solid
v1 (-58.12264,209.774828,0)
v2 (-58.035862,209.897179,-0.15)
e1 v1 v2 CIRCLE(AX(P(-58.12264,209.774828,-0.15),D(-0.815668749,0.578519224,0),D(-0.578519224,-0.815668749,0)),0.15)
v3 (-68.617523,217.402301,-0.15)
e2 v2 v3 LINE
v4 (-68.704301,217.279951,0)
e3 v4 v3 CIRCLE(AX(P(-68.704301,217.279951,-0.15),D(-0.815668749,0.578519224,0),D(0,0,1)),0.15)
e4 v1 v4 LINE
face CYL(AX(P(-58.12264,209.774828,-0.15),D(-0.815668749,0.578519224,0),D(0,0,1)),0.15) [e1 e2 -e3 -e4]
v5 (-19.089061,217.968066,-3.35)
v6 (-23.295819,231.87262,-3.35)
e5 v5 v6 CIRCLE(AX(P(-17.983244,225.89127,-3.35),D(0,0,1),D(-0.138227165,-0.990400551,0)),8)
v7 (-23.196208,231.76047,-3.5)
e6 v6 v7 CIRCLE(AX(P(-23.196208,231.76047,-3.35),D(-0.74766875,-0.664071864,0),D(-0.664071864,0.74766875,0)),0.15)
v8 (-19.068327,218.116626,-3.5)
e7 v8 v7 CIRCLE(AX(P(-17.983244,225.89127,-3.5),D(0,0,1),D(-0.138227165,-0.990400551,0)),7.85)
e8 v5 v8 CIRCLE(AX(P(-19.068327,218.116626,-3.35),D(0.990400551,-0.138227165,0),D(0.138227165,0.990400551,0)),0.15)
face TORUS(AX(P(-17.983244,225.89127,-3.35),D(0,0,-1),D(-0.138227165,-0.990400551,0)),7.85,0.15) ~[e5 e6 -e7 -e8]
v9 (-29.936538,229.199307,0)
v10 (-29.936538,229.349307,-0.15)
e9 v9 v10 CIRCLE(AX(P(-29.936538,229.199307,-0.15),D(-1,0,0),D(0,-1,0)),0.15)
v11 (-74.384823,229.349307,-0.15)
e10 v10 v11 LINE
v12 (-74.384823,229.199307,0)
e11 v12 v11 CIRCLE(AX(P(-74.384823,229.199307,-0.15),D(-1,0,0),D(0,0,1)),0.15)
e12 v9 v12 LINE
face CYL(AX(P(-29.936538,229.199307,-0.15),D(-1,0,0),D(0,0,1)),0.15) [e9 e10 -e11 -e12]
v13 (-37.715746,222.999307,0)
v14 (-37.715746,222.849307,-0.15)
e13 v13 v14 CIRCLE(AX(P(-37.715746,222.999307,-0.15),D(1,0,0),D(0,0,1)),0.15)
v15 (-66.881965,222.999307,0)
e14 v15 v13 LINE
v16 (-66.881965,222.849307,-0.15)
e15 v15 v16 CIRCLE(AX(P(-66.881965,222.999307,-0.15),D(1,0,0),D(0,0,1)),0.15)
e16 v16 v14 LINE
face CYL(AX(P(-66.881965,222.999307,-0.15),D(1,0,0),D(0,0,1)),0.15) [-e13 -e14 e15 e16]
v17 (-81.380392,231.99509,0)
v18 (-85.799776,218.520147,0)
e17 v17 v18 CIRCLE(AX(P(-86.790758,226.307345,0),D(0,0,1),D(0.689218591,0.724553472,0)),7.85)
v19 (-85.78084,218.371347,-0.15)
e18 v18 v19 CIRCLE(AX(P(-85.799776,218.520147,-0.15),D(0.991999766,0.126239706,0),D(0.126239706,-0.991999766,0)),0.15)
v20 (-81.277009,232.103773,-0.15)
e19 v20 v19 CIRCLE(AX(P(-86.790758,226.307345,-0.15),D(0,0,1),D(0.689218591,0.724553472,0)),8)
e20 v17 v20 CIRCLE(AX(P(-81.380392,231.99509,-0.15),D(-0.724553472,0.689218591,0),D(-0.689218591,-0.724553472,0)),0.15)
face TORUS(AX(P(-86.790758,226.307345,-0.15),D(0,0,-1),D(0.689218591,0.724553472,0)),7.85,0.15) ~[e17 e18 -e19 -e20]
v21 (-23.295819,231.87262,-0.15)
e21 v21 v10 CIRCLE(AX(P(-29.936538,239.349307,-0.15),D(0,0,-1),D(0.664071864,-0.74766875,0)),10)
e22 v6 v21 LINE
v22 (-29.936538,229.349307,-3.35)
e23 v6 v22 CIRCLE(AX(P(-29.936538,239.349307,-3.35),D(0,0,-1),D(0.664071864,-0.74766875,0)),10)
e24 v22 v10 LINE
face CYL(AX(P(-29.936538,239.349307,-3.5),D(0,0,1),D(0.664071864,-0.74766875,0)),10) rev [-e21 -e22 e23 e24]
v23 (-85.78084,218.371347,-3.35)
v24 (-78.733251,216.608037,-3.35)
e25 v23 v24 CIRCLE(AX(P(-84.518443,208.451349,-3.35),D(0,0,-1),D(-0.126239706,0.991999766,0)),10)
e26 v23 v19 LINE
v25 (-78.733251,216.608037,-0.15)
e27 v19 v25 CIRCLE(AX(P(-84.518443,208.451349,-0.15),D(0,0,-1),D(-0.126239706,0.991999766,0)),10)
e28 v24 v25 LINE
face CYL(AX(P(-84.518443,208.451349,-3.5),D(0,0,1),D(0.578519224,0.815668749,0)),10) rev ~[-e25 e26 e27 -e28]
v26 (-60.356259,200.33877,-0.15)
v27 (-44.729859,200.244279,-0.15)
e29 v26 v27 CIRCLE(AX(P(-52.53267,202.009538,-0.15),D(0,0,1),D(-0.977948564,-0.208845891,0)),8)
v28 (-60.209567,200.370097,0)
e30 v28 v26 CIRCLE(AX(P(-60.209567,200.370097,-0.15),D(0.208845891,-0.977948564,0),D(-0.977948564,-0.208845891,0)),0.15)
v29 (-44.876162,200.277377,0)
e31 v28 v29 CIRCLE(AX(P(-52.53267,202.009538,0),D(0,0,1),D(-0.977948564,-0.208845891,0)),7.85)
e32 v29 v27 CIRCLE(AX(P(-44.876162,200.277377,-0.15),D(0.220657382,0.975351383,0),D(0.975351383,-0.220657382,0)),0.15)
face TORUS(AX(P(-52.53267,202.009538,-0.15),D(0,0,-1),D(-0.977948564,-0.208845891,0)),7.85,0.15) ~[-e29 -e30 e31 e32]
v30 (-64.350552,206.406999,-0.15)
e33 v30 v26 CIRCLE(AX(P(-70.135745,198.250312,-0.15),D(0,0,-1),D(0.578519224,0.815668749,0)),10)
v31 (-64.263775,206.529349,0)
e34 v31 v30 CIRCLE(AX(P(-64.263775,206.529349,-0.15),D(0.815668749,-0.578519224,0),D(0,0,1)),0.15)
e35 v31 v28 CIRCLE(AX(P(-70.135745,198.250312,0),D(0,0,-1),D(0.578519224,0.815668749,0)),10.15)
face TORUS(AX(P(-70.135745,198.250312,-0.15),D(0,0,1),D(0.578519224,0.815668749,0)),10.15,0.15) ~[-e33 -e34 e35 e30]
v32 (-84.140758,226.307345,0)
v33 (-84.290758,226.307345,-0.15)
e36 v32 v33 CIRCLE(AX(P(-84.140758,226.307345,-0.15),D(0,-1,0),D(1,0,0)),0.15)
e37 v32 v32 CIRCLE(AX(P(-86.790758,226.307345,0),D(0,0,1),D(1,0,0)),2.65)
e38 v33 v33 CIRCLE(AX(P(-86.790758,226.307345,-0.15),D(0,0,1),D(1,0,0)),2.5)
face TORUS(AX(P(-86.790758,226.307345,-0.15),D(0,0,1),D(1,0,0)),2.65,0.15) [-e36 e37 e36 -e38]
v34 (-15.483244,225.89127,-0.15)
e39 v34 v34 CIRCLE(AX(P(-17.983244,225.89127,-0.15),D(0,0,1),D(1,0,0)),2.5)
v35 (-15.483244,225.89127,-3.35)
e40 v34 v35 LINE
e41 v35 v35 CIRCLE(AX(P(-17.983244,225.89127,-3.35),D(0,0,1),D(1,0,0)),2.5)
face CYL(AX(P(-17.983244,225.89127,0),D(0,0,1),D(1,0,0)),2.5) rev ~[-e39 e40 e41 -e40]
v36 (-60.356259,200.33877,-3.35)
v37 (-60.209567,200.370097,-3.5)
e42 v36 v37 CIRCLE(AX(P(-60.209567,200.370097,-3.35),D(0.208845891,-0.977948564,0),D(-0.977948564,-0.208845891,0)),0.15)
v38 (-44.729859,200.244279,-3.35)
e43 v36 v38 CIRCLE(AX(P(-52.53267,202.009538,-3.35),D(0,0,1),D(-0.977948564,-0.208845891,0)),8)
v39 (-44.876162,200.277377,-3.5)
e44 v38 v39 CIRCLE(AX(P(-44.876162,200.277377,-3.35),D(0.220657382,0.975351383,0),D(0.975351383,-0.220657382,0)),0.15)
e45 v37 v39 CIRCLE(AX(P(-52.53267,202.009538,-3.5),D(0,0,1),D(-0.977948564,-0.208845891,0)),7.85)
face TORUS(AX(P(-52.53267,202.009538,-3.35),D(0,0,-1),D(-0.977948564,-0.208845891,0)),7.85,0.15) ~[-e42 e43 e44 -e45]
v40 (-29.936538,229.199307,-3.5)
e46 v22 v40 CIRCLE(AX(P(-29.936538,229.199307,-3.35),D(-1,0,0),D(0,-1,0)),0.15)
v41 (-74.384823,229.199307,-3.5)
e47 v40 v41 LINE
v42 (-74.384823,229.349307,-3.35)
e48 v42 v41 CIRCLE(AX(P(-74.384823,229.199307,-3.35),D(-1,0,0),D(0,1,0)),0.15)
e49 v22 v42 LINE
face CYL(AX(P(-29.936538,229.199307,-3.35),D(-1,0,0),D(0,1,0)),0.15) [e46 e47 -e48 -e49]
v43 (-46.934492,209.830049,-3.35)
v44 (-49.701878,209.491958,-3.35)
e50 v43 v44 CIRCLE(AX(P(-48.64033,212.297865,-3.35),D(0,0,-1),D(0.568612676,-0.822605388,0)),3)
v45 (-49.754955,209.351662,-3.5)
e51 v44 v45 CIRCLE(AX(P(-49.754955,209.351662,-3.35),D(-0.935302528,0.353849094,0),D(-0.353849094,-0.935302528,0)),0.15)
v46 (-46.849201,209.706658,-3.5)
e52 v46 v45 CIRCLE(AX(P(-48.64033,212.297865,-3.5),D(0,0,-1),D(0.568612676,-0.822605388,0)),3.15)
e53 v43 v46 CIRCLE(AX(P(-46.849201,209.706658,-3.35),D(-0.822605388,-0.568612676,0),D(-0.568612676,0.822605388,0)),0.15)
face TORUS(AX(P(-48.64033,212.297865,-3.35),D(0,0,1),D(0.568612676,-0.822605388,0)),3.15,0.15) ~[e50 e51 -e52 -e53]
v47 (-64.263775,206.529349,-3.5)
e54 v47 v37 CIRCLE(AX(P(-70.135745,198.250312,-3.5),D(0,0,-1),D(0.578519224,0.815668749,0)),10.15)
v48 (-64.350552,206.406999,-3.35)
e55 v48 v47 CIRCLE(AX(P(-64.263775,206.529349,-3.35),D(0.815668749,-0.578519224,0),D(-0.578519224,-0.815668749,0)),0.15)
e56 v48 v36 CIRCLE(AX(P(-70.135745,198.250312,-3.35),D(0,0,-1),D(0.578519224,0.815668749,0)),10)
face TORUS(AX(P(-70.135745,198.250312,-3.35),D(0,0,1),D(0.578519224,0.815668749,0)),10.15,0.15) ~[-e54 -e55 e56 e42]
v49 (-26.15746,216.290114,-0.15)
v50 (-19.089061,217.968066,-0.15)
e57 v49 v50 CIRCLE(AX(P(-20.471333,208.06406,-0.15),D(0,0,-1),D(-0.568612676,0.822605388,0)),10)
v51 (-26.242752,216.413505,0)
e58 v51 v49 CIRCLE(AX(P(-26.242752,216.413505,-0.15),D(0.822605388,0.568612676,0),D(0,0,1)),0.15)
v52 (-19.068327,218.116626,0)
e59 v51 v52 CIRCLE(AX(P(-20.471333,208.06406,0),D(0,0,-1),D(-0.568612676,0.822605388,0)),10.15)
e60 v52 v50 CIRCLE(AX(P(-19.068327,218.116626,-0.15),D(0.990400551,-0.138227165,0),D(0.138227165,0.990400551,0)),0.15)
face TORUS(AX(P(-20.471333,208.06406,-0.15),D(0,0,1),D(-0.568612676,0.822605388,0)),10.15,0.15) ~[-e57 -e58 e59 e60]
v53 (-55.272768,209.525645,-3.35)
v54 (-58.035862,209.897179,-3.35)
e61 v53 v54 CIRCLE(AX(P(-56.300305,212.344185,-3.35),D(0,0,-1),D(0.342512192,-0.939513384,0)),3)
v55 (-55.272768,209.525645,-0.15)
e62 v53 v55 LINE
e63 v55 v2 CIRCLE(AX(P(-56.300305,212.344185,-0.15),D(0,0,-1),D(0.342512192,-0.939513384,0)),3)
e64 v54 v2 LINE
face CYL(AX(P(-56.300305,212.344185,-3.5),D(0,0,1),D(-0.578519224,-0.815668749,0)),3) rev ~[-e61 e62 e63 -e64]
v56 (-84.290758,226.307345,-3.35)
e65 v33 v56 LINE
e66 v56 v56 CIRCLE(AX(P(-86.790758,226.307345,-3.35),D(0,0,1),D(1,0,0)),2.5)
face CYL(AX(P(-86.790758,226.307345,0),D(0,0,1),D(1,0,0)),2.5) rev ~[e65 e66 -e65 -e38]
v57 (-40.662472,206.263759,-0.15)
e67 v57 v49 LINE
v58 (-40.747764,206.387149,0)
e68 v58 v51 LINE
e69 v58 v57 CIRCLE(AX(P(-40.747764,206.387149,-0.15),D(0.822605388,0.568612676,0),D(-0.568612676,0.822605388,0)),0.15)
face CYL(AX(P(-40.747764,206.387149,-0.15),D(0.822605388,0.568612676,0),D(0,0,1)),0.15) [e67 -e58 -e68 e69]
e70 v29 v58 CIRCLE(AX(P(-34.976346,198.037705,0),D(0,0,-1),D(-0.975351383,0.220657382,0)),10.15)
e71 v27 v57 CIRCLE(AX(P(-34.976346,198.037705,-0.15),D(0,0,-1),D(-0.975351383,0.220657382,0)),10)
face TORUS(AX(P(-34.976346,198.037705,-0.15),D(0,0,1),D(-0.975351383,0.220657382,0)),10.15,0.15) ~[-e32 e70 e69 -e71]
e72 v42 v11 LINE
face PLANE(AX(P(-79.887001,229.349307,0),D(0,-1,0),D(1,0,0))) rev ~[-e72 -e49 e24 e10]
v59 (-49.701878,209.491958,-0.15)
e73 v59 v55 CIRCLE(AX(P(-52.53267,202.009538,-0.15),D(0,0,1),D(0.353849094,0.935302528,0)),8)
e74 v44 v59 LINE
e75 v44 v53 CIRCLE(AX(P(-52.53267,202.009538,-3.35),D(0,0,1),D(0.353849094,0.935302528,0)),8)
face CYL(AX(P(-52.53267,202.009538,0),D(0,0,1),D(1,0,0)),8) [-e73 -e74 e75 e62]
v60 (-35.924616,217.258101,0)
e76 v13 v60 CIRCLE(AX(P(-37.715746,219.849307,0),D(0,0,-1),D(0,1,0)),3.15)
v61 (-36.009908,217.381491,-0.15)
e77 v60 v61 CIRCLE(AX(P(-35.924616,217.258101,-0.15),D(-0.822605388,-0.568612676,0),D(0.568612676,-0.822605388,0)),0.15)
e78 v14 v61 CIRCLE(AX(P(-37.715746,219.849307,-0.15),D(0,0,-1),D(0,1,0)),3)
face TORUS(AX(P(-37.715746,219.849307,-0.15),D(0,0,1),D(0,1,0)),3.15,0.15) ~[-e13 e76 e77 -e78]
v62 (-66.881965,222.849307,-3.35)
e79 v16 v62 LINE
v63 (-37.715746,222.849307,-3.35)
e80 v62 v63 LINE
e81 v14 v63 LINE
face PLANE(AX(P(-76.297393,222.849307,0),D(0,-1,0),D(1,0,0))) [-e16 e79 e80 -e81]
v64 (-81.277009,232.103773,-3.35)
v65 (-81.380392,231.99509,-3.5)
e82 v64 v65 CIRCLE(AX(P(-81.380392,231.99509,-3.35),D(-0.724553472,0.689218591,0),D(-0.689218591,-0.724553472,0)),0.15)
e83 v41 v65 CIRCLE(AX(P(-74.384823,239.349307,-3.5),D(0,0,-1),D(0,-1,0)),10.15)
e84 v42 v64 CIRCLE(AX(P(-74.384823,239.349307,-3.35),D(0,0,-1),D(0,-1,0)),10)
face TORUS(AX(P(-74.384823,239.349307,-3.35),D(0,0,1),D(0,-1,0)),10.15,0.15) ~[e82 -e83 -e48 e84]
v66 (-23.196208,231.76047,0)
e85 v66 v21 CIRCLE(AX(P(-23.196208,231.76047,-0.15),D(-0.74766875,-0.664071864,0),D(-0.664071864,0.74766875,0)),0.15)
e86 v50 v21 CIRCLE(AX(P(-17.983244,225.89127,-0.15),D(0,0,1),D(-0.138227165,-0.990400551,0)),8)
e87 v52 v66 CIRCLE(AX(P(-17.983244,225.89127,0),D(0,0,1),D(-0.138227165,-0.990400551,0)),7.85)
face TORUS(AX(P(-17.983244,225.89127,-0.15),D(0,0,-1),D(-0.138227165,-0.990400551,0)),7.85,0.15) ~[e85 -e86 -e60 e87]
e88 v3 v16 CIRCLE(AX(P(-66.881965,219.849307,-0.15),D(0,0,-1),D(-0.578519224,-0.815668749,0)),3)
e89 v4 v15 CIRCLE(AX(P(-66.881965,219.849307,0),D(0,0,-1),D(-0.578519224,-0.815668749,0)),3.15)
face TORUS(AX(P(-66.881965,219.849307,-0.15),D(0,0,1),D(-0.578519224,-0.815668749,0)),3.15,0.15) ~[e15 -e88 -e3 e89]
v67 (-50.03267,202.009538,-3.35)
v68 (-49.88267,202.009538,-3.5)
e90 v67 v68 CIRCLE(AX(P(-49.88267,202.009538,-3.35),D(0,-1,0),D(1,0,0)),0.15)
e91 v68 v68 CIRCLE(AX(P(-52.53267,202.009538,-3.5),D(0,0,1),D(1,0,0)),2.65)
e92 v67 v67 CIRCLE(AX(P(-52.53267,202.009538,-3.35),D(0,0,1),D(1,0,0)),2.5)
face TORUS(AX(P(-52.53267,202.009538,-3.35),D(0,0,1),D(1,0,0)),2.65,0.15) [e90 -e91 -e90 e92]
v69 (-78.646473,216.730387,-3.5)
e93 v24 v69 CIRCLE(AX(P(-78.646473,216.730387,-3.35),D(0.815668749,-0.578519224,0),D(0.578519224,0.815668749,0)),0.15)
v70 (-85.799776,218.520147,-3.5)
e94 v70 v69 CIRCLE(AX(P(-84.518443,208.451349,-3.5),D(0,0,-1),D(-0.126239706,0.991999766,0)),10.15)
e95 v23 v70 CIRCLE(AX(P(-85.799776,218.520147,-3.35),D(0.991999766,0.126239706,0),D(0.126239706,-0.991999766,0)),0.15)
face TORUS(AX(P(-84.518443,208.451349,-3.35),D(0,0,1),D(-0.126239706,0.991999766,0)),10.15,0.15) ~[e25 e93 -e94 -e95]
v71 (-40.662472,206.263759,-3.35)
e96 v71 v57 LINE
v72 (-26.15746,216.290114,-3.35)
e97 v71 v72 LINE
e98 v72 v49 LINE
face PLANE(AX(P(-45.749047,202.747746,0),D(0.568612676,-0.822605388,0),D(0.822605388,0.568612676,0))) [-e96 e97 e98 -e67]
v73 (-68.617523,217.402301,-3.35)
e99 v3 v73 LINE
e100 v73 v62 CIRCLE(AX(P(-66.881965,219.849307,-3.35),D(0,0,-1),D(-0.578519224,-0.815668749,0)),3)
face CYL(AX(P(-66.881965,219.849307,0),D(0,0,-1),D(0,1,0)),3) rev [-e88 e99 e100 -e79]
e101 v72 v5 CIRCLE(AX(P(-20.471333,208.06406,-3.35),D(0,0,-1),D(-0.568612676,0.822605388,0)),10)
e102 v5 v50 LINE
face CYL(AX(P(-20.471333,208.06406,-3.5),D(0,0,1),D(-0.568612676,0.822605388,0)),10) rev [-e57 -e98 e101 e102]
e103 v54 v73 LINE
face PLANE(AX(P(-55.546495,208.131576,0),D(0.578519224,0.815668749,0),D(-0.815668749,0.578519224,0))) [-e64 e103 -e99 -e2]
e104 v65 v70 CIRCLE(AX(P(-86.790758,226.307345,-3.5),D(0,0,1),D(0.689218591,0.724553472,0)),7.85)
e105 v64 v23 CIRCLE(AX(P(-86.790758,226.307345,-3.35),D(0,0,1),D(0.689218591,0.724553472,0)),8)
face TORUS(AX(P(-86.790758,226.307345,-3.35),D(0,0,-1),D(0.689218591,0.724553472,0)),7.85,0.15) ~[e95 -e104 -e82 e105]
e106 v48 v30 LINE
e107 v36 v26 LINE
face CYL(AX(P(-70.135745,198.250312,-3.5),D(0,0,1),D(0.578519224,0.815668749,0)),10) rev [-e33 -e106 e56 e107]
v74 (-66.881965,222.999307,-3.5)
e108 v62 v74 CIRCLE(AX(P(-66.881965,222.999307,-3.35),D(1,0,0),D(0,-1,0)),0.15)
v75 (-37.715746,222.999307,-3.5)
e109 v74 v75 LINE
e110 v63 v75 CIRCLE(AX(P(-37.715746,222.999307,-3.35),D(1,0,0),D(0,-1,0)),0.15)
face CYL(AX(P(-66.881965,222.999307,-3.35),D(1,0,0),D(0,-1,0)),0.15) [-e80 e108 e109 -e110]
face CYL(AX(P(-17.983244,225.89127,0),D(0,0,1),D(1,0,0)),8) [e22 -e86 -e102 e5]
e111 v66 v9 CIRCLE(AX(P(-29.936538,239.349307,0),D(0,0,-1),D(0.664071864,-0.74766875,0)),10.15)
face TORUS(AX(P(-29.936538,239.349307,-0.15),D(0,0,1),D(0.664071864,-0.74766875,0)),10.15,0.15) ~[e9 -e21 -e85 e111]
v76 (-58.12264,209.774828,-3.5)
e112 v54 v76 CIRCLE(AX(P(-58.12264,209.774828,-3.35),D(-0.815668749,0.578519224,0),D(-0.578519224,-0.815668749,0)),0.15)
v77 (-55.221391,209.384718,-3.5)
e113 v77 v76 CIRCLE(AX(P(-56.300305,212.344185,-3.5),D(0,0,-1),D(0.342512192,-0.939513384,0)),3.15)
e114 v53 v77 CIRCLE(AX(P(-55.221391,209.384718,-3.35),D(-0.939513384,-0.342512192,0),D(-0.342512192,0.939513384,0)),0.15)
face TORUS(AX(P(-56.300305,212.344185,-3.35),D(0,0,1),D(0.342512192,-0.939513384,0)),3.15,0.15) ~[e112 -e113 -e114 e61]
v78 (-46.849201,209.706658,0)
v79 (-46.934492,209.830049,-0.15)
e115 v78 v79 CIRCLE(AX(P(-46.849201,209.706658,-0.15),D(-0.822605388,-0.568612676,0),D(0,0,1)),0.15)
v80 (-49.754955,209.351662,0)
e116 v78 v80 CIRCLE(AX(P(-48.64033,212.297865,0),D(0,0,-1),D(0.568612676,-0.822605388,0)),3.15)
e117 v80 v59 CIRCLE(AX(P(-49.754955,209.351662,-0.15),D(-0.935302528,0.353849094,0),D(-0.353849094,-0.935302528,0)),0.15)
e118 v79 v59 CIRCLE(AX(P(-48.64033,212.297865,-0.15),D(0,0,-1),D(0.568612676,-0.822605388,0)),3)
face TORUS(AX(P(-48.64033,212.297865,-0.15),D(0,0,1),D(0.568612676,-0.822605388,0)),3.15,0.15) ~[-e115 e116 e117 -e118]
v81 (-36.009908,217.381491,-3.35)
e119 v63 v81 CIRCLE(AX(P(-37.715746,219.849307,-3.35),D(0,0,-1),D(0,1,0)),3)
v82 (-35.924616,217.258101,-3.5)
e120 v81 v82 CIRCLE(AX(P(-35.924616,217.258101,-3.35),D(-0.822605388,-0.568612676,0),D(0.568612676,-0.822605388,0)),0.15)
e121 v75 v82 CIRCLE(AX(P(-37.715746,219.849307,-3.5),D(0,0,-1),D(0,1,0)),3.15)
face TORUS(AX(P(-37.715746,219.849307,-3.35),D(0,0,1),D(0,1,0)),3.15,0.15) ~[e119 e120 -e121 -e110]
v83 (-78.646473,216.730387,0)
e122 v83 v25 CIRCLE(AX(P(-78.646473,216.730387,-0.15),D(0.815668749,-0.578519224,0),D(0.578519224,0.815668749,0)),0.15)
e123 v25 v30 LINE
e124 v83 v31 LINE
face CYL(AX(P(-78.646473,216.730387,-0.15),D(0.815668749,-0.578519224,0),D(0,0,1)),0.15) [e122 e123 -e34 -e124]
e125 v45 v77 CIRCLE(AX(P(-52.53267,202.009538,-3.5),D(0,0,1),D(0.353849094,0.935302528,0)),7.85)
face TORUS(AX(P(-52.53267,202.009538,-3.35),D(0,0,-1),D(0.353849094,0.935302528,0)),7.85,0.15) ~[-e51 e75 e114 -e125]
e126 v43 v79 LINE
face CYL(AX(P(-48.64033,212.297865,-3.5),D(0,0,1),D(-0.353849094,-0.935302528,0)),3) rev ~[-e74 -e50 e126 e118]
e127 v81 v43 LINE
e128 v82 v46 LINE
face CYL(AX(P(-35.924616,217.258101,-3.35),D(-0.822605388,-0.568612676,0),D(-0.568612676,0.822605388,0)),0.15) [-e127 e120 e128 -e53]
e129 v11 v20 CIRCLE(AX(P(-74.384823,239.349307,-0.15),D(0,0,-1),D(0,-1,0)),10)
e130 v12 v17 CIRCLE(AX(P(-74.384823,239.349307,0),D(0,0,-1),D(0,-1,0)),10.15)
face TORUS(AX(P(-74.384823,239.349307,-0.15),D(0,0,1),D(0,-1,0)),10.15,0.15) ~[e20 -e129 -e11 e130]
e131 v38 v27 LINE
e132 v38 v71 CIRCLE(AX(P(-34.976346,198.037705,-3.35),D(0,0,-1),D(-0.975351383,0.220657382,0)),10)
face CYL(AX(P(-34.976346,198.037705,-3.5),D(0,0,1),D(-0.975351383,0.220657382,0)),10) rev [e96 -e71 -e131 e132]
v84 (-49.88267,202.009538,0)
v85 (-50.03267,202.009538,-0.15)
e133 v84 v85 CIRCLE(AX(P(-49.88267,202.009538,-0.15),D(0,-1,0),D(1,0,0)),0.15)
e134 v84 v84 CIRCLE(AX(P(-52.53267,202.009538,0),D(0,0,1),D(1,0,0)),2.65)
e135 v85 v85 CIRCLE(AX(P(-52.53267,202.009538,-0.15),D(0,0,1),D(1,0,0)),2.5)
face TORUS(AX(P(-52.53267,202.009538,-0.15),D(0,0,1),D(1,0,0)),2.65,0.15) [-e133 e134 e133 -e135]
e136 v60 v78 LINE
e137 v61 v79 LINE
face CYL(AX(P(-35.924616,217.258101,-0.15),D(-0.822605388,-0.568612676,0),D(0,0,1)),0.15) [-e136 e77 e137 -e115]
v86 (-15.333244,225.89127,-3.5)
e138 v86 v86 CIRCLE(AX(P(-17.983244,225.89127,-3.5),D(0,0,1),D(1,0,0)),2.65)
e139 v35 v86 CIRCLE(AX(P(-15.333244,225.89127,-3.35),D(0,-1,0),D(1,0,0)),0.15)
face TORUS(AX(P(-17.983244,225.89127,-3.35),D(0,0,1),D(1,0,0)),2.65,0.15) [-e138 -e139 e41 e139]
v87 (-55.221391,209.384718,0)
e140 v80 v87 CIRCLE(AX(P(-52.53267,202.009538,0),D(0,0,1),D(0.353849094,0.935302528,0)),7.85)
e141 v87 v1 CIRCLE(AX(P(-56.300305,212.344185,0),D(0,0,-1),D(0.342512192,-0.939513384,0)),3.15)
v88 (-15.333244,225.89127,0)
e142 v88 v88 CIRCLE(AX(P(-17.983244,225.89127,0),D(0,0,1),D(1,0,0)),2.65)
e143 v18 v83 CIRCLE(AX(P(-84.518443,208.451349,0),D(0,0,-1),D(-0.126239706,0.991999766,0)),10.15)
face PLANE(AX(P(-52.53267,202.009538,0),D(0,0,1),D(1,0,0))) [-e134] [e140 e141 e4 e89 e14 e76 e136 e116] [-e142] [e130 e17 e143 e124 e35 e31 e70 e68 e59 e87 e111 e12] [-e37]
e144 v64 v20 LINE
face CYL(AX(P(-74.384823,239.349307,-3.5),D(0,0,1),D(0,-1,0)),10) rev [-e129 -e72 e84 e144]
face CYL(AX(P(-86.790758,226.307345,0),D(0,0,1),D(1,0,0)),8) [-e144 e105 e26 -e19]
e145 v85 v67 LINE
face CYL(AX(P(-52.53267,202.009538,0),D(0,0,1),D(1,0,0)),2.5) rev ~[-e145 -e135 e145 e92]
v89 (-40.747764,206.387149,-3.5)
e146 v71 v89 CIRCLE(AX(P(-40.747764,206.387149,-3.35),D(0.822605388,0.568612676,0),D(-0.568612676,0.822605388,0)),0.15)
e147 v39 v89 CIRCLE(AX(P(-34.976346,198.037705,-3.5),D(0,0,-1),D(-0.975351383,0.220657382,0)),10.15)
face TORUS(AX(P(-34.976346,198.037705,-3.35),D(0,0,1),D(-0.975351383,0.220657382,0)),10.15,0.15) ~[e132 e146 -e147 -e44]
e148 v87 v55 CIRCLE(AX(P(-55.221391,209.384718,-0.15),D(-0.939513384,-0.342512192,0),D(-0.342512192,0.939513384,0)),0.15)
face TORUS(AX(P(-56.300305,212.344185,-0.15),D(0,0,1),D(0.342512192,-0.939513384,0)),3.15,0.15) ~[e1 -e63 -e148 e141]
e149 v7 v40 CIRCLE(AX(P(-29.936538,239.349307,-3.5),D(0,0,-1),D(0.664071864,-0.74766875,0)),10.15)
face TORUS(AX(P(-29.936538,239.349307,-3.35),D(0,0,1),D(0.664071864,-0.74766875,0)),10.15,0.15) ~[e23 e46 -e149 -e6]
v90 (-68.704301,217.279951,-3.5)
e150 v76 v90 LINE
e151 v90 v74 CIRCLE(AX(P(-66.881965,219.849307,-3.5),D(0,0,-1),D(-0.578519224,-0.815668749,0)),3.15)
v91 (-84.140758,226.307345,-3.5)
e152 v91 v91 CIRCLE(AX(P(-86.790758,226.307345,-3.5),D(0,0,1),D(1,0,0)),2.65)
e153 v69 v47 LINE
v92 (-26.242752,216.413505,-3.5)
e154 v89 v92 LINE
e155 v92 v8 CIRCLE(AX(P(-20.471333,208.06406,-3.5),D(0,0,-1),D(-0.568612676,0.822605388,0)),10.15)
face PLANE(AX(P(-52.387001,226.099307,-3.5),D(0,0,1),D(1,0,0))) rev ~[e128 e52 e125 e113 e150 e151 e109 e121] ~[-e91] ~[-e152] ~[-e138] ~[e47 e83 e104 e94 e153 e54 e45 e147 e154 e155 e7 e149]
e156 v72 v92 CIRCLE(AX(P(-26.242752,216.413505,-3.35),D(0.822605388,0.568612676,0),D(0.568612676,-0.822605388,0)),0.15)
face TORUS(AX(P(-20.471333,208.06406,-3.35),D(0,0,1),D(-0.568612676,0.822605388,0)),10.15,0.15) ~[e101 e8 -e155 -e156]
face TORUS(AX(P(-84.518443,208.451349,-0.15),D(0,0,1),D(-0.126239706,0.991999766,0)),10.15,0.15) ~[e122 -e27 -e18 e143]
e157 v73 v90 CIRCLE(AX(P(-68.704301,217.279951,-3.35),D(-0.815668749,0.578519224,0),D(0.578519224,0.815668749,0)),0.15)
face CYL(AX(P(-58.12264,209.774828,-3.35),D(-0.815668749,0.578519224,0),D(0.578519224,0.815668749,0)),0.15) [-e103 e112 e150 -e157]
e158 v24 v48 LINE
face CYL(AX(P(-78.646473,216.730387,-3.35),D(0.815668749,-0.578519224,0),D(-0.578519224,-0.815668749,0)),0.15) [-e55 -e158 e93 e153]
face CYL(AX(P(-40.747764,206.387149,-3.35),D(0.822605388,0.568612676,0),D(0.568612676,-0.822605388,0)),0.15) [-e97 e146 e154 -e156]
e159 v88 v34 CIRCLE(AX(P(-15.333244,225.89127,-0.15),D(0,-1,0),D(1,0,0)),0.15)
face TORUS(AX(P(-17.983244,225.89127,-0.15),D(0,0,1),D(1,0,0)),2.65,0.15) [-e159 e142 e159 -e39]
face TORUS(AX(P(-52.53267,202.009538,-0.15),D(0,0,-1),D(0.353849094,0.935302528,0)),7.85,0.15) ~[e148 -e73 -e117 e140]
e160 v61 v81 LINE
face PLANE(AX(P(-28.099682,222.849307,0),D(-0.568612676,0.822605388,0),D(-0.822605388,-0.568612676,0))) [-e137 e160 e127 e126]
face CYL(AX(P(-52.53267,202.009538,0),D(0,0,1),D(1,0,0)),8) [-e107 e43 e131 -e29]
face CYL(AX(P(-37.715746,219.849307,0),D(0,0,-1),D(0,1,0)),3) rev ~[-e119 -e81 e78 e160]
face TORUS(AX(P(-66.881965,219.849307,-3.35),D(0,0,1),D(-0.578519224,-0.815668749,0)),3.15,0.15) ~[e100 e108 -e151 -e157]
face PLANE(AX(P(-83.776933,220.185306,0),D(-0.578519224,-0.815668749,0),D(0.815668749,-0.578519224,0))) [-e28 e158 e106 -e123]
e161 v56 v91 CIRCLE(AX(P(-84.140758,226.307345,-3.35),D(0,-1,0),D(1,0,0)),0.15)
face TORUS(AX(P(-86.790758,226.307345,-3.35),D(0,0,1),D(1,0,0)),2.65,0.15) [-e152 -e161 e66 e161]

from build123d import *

# Parameters (mm, degrees)
SKETCH1_R             = 8
SKETCH1_R_2           = 2.5
BOSS_EXTRUDE1_DEPTH   = 3.5
BOSS_EXTRUDE1_2_DEPTH = 3.5
BOSS_EXTRUDE1_3_DEPTH = 3.5
SKETCH2_W             = 55
SKETCH2_H             = 6.5
EXTRUDE_THIN1_DEPTH   = 3.5
FILLET1_R             = 3
FILLET2_R             = 10
FILLET3_R             = 0.15


with BuildPart() as part:
    # Sketch1 → Boss-Extrude1 (new body)
    with BuildSketch(Plane.XY):
        with Locations((-86.790757919, 226.307344998)):
            Circle(SKETCH1_R)
        with Locations((-86.790757919, 226.307344998)):
            Circle(SKETCH1_R_2, mode=Mode.SUBTRACT)
    extrude(amount=-BOSS_EXTRUDE1_DEPTH)



with BuildPart() as body_2:
    # Sketch1 → Boss-Extrude1 2 (new body)
    with BuildSketch(Plane.XY):
        with Locations((-52.532670476, 202.009537592)):
            Circle(SKETCH1_R)
        with Locations((-52.532670476, 202.009537592)):
            Circle(SKETCH1_R_2, mode=Mode.SUBTRACT)
    extrude(amount=-BOSS_EXTRUDE1_2_DEPTH)


with BuildPart() as body_3:
    # Sketch1 → Boss-Extrude1 3 (new body)
    with BuildSketch(Plane.XY):
        with Locations((-17.983244178, 225.891269992)):
            Circle(SKETCH1_R)
        with Locations((-17.983244178, 225.891269992)):
            Circle(SKETCH1_R_2, mode=Mode.SUBTRACT)
    extrude(amount=-BOSS_EXTRUDE1_3_DEPTH)


with BuildPart() as part_1:
    add(part.part)

    add(body_2.part)  # Extrude-Thin1 merges body 2

    add(body_3.part)  # Extrude-Thin1 merges body 3
    # Sketch2 → Extrude-Thin1 (add)
    with BuildSketch(Plane.XY):
        with Locations((-52.387001049, 226.099307495)):
            Rectangle(SKETCH2_W, SKETCH2_H)
        Polygon((-45.74904695, 202.747746138), (-21.070885309, 219.806126424), (-24.766867704, 225.153061446), (-49.445029346, 208.09468116), align=None)
        Polygon((-55.54649549, 208.131576369), (-80.016557949, 225.487153088), (-83.776932905, 220.185306221), (-59.306870446, 202.829729502), align=None)
    extrude(amount=-EXTRUDE_THIN1_DEPTH)

    # Fillet1
    fillet1_edges = [part_1.edges().sort_by_distance(p)[0] for p in [
        (-28.099681924, 222.849307495, -1.75),
        (-48.367337516, 208.839618215, -1.75),
        (-56.615099658, 208.88949195, -1.75),
        (-76.297393358, 222.849307495, -1.75),
    ]]
    fillet(fillet1_edges, radius=FILLET1_R)

    # Fillet2
    fillet2_edges = [part_1.edges().sort_by_distance(p)[0] for p in [
        (-79.391672559, 229.349307495, -1.75),
        (-25.197256697, 229.349307495, -1.75),
        (-22.148577139, 219.061189368, -1.75),
        (-44.671355121, 203.492683193, -1.75),
        (-60.375474614, 203.587645084, -1.75),
        (-82.708328737, 219.42739064, -1.75),
    ]]
    fillet(fillet2_edges, radius=FILLET2_R)

    # Fillet3
    fillet3_edges = [part_1.edges().sort_by_distance(p)[0] for p in [
        (-52.298855759, 222.849307495, -3.5),
        (-52.298855759, 222.849307495, 0),
        (-41.472200397, 213.605770282, -3.5),
        (-41.472200397, 213.605770282, 0),
        (-63.326692521, 213.649739907, -3.5),
        (-63.326692521, 213.649739907, 0),
        (-52.484295829, 210.009391334, 0),
        (-52.484295829, 210.009391334, -3.5),
        (-34.85188115, 220.742770283, 0),
        (-34.85188115, 220.742770283, -3.5),
        (-69.740375392, 220.760071258, 0),
        (-69.740375392, 220.760071258, -3.5),
        (-48.276525417, 209.320006114, 0),
        (-48.276525417, 209.320006114, -3.5),
        (-56.700095574, 209.370942949, -3.5),
        (-56.700095574, 209.370942949, 0),
        (-52.581045124, 194.00968385, 0),
        (-52.581045124, 194.00968385, -3.5),
        (-33.40996613, 211.276936281, -3.5),
        (-33.40996613, 211.276936281, 0),
        (-10.326018961, 228.207927495, -3.5),
        (-10.326018961, 228.207927495, 0),
        (-71.541901676, 211.507517862, -3.5),
        (-71.541901676, 211.507517862, 0),
        (-94.392365386, 228.800448269, -3.5),
        (-94.392365386, 228.800448269, 0),
        (-52.160680502, 229.349307495, 0),
        (-52.160680502, 229.349307495, -3.5),
        (-43.262126204, 203.636440253, 0),
        (-43.262126204, 203.636440253, -3.5),
        (-22.781024171, 217.793670934, 0),
        (-22.781024171, 217.793670934, -3.5),
        (-61.782861959, 203.748434057, -3.5),
        (-61.782861959, 203.748434057, 0),
        (-82.091256613, 218.152316436, 0),
        (-82.091256613, 218.152316436, -3.5),
        (-26.384557642, 230.001396632, -3.5),
        (-26.384557642, 230.001396632, 0),
        (-78.095931795, 230.063421775, -3.5),
        (-78.095931795, 230.063421775, 0),
        (-20.483244178, 225.891269992, -3.5),
        (-20.483244178, 225.891269992, 0),
        (-89.290757919, 226.307344998, -3.5),
        (-89.290757919, 226.307344998, 0),
        (-55.032670476, 202.009537592, -3.5),
        (-55.032670476, 202.009537592, 0),
    ]]
    fillet(fillet3_edges, radius=FILLET3_R)


solid = part_1.part
